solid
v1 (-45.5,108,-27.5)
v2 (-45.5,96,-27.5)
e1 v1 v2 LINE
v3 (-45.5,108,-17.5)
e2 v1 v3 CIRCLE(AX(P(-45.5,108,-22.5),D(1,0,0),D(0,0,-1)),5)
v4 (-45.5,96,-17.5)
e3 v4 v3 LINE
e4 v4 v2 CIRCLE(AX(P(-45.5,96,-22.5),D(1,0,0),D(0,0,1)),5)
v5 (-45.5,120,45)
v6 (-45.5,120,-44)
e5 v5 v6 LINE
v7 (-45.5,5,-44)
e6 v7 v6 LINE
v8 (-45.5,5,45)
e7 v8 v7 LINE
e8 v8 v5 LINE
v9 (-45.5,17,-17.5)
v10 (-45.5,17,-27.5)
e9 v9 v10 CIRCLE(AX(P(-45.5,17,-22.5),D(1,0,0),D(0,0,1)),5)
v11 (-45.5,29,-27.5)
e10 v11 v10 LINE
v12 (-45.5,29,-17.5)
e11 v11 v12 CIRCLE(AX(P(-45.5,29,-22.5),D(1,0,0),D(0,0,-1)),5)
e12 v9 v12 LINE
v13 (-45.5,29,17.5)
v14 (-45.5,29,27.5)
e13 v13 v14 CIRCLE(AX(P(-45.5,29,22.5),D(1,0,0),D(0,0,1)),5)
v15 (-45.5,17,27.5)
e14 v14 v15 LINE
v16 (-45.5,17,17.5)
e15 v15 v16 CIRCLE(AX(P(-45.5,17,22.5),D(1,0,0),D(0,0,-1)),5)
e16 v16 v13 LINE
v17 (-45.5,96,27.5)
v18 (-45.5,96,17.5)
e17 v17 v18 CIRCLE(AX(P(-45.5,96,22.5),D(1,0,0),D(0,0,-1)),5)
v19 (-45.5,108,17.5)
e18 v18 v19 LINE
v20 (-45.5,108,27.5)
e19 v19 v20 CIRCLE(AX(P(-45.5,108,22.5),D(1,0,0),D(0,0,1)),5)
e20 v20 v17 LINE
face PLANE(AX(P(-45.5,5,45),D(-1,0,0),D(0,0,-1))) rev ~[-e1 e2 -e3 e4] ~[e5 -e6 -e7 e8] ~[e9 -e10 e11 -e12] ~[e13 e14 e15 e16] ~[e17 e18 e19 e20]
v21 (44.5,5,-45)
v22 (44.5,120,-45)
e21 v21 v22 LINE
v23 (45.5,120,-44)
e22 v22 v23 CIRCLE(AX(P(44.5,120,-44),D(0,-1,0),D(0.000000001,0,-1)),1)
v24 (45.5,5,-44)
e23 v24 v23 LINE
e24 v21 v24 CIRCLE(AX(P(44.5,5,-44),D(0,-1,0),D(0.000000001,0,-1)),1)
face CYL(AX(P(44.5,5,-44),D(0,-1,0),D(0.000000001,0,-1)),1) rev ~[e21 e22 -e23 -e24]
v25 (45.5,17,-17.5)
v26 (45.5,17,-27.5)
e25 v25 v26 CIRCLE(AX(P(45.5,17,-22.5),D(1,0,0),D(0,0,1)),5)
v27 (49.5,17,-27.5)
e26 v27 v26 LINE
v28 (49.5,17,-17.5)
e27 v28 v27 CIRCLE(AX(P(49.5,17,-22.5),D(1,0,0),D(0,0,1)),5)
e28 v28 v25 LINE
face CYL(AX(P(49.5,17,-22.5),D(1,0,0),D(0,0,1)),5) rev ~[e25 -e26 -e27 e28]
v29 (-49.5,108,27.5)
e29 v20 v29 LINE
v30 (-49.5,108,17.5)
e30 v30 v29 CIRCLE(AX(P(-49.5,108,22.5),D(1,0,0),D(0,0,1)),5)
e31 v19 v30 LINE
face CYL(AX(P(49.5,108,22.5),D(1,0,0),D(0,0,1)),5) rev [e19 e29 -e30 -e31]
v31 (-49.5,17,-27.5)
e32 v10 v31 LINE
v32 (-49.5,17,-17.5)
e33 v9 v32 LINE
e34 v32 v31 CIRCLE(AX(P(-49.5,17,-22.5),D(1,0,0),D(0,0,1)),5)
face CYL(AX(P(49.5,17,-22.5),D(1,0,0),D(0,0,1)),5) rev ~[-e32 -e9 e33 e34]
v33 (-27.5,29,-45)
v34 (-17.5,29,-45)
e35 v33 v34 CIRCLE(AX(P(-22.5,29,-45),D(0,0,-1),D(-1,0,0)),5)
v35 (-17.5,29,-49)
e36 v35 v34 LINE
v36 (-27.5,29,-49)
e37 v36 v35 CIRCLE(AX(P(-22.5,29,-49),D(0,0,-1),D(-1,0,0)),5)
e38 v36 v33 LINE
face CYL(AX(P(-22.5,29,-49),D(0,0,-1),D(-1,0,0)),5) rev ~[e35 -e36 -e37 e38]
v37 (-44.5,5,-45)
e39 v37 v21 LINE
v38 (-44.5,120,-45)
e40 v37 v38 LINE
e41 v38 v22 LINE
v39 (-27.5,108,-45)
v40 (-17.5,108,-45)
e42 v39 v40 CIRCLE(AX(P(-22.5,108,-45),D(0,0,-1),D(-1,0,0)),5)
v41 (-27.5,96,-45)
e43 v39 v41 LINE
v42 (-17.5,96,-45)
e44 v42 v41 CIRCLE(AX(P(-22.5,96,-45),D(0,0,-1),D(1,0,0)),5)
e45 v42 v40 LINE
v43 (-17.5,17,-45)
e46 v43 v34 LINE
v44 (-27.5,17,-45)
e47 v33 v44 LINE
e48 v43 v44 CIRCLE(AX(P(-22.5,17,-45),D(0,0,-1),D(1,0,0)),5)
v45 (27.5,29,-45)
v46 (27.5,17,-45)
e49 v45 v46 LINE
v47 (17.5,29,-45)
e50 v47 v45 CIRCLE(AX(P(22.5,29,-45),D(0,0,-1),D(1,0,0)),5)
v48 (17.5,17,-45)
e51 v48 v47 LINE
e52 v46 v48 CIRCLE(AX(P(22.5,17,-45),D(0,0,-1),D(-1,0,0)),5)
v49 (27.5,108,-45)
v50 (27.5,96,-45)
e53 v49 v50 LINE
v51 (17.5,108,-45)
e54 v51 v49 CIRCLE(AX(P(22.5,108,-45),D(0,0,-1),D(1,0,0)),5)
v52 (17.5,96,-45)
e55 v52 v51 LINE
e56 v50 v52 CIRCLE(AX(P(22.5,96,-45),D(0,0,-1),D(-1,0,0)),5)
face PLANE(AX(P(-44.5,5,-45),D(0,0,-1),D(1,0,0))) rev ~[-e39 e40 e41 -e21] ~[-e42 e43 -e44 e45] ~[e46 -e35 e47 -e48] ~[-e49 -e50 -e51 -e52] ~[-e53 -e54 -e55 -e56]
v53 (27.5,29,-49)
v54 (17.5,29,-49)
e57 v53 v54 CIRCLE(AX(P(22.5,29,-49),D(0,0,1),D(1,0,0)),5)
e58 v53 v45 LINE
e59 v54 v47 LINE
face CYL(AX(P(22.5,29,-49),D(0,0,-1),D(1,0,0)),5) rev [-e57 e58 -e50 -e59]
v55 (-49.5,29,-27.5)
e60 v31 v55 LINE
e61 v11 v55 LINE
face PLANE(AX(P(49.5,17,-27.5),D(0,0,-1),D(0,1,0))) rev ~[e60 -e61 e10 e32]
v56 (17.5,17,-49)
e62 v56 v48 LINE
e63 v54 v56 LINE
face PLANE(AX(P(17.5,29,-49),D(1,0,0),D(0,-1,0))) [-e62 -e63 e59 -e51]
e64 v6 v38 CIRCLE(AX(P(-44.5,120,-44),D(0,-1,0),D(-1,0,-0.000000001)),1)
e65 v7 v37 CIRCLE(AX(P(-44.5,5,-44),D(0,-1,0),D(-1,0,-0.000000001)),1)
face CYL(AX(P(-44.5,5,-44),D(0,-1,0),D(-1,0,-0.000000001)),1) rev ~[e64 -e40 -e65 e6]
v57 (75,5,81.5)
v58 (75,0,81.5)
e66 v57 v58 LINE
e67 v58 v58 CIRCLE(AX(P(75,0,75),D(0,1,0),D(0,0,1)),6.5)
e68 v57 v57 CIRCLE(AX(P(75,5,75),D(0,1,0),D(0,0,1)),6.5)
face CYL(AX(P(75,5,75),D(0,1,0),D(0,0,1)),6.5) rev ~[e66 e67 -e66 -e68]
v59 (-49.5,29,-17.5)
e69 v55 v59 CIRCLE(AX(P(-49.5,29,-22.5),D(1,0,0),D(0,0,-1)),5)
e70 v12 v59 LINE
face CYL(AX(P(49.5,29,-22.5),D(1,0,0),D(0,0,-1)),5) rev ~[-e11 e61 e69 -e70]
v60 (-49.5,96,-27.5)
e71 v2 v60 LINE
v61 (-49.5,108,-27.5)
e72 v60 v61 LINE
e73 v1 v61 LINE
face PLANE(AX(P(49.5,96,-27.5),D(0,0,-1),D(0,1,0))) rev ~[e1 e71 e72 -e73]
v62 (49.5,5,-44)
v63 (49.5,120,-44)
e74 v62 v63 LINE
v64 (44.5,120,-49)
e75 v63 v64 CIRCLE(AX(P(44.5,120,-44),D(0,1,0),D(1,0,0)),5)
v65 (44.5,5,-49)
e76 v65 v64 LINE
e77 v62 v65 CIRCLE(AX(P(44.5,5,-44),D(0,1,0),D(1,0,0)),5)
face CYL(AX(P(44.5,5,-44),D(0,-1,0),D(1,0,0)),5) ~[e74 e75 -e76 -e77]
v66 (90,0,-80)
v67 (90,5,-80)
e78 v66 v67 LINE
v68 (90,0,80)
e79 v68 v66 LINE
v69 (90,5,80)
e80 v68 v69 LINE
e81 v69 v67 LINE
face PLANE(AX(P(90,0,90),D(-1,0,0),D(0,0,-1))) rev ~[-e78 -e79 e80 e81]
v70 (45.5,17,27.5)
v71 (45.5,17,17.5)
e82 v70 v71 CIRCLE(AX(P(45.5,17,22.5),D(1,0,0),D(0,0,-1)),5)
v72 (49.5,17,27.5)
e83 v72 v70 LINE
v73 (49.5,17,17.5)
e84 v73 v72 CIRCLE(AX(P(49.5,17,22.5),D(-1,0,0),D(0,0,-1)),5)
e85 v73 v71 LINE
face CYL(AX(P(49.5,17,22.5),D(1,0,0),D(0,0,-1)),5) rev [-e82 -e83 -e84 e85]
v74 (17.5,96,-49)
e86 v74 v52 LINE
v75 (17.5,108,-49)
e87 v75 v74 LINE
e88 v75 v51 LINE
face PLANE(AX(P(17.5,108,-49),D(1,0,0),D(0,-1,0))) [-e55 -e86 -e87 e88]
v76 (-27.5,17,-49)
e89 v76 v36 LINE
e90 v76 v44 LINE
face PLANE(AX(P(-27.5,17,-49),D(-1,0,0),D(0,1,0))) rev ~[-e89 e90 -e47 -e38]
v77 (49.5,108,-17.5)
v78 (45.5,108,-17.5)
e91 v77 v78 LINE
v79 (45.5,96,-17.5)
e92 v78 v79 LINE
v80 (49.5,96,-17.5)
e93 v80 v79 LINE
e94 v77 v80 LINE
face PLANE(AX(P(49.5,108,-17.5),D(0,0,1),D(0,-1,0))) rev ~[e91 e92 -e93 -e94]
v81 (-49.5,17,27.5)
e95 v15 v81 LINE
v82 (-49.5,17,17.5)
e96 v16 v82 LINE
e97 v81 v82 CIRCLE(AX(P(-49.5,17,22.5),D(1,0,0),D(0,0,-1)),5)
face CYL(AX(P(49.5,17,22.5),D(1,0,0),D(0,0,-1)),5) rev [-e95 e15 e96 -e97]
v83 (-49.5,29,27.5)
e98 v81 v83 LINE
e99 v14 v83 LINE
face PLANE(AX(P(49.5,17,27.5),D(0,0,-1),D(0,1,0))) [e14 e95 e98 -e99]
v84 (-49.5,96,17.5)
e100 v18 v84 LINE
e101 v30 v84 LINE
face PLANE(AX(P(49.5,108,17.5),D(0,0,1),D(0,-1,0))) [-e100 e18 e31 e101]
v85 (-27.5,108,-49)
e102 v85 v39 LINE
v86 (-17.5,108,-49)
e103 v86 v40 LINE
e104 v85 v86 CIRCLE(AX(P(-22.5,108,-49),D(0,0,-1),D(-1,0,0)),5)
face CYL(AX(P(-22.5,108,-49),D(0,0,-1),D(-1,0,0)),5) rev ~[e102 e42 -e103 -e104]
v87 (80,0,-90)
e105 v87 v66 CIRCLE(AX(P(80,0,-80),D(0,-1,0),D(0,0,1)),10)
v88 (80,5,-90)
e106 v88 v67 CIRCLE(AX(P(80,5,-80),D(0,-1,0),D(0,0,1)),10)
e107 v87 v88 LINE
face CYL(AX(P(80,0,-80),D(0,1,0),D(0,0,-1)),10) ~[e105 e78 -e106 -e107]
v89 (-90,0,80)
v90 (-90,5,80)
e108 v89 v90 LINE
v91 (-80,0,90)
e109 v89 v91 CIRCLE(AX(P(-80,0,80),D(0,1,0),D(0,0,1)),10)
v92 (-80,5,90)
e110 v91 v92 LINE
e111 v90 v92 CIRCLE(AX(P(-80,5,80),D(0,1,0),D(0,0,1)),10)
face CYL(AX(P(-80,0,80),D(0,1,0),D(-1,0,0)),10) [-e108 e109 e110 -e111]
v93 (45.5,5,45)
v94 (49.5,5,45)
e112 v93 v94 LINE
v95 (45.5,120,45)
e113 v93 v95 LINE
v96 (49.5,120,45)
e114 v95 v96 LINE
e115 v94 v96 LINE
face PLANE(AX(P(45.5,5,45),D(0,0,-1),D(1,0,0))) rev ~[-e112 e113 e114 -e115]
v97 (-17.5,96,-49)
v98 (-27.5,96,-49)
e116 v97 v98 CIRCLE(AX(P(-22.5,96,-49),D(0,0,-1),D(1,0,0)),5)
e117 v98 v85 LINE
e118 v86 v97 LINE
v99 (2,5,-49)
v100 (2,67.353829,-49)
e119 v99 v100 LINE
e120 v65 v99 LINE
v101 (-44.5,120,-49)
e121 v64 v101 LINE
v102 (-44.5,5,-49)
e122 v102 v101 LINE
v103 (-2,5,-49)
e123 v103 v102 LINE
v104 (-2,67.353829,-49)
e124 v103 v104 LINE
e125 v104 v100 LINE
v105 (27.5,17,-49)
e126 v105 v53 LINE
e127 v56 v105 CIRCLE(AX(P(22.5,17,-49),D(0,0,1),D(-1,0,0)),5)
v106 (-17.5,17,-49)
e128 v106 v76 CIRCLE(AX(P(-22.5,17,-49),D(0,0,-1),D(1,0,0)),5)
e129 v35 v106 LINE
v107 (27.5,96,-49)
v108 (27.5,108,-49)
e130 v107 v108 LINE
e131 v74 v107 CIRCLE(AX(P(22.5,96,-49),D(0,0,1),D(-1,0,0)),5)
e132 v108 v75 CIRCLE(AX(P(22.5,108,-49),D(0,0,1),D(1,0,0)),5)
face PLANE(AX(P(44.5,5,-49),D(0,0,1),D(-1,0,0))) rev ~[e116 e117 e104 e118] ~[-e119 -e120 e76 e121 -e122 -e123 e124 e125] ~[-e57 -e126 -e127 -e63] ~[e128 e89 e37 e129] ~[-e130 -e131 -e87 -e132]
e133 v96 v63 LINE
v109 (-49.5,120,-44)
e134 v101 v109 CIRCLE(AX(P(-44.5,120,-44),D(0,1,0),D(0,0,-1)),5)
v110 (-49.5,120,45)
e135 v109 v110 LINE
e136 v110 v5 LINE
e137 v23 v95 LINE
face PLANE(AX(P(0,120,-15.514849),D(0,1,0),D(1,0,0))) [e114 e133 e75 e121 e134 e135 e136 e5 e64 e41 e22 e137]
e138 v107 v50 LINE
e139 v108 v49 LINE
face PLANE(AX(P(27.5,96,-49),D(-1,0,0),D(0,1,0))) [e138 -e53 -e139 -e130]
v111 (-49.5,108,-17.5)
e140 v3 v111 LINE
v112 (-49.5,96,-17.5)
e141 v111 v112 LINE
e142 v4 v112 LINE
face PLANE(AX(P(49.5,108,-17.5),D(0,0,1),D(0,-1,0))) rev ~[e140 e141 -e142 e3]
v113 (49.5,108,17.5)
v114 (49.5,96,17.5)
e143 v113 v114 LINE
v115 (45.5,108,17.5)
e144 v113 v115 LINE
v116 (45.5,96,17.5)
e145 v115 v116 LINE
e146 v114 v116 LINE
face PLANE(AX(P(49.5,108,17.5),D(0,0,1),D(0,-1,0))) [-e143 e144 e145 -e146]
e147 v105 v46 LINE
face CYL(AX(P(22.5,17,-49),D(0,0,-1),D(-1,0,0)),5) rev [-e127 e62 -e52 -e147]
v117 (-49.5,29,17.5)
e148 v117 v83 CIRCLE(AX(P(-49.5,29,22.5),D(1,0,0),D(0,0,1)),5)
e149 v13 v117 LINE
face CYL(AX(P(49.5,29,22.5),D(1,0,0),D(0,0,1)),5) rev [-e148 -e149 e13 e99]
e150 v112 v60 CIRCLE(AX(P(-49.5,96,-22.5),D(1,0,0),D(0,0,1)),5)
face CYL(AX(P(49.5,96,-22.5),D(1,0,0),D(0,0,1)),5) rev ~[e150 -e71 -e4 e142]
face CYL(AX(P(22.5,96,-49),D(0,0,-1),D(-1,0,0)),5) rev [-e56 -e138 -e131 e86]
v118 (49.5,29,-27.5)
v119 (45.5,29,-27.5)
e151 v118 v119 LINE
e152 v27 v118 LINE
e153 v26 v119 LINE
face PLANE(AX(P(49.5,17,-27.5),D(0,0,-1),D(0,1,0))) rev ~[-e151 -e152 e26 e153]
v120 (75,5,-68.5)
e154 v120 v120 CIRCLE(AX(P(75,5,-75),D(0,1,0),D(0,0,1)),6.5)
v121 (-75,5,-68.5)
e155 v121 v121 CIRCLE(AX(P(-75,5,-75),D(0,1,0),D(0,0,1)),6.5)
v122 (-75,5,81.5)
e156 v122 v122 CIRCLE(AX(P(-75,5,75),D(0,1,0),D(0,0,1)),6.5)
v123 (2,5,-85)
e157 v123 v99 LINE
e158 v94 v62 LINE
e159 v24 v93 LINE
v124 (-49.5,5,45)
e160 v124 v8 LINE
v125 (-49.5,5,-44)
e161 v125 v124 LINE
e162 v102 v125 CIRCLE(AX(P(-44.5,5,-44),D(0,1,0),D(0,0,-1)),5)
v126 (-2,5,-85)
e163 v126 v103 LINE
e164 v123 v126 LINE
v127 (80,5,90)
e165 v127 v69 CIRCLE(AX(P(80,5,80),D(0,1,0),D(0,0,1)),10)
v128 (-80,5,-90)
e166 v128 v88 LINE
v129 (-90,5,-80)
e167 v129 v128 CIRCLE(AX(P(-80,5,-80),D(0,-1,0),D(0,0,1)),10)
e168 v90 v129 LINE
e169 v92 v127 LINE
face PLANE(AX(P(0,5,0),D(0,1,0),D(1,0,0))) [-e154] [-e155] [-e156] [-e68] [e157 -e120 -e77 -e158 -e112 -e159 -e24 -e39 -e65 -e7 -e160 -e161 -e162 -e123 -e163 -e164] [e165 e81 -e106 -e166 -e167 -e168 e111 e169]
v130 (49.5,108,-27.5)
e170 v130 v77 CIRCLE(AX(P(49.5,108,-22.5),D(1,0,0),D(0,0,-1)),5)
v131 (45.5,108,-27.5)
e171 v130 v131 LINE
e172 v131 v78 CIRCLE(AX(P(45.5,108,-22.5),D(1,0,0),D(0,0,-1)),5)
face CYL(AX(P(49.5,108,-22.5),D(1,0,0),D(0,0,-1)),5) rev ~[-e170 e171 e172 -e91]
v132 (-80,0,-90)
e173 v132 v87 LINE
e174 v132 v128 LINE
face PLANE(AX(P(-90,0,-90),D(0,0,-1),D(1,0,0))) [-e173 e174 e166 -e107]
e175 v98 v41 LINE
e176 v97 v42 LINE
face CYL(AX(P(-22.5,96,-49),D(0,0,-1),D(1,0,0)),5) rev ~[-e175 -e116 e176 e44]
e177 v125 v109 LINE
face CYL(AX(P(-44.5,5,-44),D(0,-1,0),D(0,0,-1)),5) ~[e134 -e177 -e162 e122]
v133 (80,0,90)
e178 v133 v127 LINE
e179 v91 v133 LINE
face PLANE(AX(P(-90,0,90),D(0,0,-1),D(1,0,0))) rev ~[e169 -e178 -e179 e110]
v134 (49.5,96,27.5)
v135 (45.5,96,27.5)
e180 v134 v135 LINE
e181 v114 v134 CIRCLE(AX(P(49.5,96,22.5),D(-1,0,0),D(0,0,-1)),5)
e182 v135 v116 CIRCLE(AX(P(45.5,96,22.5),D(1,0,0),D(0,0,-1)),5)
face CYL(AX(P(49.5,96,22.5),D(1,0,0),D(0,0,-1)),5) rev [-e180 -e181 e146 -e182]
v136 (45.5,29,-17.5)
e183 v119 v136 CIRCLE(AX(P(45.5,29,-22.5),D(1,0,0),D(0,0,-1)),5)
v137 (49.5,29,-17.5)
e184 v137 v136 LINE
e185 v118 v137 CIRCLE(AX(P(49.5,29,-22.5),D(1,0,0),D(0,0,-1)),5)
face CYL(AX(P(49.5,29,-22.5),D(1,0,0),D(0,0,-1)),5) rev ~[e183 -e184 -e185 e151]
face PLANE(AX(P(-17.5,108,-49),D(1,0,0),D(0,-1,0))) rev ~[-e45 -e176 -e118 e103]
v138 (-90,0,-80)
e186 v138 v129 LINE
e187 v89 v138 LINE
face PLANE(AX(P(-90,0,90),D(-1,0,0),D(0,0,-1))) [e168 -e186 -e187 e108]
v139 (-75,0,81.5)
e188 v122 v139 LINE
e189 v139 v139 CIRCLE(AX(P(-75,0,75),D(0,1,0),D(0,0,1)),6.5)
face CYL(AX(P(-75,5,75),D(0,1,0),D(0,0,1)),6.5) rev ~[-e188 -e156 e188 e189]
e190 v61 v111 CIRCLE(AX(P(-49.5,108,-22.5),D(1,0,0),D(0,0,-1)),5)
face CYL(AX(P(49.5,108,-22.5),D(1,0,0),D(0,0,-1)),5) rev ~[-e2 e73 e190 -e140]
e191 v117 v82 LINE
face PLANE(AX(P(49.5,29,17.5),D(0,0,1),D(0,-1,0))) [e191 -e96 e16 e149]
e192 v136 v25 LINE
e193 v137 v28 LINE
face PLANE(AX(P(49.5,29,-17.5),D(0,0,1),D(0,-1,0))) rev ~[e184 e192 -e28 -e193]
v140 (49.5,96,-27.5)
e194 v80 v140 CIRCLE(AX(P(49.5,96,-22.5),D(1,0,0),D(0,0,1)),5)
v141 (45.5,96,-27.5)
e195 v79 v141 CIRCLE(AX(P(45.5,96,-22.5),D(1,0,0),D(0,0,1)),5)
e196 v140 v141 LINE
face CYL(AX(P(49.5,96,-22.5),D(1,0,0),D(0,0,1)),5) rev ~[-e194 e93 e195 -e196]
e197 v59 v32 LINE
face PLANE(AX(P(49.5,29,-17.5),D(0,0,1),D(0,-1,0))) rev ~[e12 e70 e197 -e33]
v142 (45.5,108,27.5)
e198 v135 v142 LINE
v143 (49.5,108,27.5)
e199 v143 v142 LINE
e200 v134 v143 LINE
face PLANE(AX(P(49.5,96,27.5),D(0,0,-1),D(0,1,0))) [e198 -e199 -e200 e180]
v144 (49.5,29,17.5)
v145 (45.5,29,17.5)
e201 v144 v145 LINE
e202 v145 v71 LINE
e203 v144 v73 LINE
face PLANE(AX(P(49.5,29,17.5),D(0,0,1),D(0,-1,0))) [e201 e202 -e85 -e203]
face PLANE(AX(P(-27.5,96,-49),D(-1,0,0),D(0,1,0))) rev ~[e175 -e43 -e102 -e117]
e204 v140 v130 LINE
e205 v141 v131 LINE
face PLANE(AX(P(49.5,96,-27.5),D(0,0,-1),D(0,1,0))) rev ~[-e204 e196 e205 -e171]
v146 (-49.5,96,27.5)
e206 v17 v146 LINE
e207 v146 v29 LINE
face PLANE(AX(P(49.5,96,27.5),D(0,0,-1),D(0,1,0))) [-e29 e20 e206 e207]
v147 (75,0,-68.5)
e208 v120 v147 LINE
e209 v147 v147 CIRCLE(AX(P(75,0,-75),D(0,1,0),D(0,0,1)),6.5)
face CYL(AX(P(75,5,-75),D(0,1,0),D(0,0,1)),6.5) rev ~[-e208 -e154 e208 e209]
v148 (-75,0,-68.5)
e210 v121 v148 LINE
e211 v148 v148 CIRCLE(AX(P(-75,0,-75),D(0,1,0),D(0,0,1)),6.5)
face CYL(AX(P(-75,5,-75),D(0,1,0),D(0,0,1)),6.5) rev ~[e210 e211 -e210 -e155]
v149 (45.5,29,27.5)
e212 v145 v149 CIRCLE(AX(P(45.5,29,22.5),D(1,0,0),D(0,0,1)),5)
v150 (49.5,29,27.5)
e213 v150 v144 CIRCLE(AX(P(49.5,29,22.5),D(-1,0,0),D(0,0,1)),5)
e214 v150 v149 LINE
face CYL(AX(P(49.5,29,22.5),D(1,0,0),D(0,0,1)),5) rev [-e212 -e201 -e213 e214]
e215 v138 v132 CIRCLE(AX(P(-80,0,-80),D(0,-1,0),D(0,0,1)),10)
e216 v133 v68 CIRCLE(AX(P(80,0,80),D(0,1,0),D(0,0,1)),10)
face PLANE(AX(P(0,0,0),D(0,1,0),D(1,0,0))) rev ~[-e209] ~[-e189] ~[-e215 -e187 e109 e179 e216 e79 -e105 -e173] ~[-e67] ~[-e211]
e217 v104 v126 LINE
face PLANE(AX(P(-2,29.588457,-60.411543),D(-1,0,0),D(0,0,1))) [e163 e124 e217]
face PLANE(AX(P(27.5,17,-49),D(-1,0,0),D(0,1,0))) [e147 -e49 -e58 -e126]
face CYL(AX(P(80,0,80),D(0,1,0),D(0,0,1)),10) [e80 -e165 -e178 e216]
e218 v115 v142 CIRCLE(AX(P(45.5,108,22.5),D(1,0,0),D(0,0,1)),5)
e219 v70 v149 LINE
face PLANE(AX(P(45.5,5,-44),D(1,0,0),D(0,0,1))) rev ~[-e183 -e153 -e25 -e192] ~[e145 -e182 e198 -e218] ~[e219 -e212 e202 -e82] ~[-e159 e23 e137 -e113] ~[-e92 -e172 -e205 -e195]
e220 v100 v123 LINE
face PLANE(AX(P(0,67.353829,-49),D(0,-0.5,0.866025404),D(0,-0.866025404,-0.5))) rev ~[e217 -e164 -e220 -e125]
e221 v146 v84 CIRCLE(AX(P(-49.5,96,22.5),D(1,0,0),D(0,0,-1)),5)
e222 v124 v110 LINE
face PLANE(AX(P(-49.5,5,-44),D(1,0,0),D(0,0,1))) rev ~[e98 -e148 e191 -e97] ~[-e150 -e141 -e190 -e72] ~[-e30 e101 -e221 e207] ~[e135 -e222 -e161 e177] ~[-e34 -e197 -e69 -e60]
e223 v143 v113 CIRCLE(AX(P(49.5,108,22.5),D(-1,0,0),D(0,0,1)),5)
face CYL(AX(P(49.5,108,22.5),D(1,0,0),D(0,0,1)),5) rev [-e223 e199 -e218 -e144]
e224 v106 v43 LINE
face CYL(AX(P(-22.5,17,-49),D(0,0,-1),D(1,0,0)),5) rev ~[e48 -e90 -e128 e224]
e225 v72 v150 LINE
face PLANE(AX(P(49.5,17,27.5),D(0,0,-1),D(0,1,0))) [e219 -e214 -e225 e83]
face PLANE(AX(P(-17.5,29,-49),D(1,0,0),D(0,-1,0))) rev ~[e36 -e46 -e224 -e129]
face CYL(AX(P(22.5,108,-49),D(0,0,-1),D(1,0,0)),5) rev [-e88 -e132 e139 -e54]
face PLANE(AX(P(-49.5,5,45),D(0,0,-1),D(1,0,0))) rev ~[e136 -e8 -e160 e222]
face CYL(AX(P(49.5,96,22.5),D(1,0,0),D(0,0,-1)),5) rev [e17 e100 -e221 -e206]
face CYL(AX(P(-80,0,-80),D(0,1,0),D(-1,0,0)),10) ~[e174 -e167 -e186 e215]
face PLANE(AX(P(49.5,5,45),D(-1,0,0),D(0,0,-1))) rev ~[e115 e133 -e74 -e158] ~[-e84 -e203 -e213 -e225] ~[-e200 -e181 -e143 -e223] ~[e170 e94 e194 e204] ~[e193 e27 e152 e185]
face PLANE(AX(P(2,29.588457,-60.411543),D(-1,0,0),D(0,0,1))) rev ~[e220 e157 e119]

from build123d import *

# Parameters (mm, degrees)
SKETCH_2_W          = 180
SKETCH_2_H          = 180
EXTRUDE_1_DEPTH     = 5
EXTRUDE_1_2_DEPTH   = 115
EXTRUDE_2_DEPTH     = 2
CUT_EXTRUDE_1_DEPTH = 140.5
SKETCH_6_R          = 6.5
CUT_EXTRUDE_2_DEPTH = 6
FILLET_1_R          = 10
CUT_EXTRUDE_3_REACH = 141


with BuildPart() as part:
    # Эскиз2 → Extrude 1 (new body)
    with BuildSketch(Plane(origin=(0, 0, 0), x_dir=(1, 0, 0), z_dir=(0, 1, 0))):
        Rectangle(SKETCH_2_W, SKETCH_2_H)
    extrude(amount=EXTRUDE_1_DEPTH)

    # Эскиз3 → Extrude 1 2 (add)
    with BuildSketch(Plane(origin=(0, 5, 0), x_dir=(1, 0, 0), z_dir=(0, 1, 0))):
        with BuildLine():
            Line((-45.5, -45), (-45.5, 44))
            ThreePointArc((-45.5, 44), (-45.207106781, 44.707106781), (-44.5, 45))
            Line((-44.5, 45), (44.5, 45))
            ThreePointArc((44.5, 45), (45.207106781, 44.707106781), (45.5, 44))
            Line((45.5, 44), (45.5, -45))
            Line((45.5, -45), (49.5, -45))
            Line((49.5, -45), (49.5, 44))
            ThreePointArc((49.5, 44), (48.035533906, 47.535533906), (44.5, 49))
            Line((44.5, 49), (-44.5, 49))
            ThreePointArc((-44.5, 49), (-48.035533906, 47.535533906), (-49.5, 44))
            Line((-49.5, 44), (-49.5, -45))
            Line((-49.5, -45), (-45.5, -45))
        make_face()
    extrude(amount=EXTRUDE_1_2_DEPTH)

    # Эскиз4 → Бобышка-Вытянуть2 (add, symmetric)
    with BuildSketch(Plane(origin=(0, 0, 0), x_dir=(0, 0, -1), z_dir=(1, 0, 0))):
        Polygon((49, 67.353829072), (85, 5), (49, 5), align=None)
    extrude(amount=EXTRUDE_2_DEPTH, both=True)

    # Эскиз5 → Вырез-Вытянуть1 (cut, through all)
    with BuildSketch(Plane(origin=(49.5, 0, 0), x_dir=(0, 0, -1), z_dir=(1, 0, 0))):
        with BuildLine():
            Line((-17.5, 108), (-17.5, 96))
            ThreePointArc((-17.5, 96), (-22.5, 91), (-27.5, 96))
            Line((-27.5, 96), (-27.5, 108))
            ThreePointArc((-27.5, 108), (-22.5, 113), (-17.5, 108))
        make_face()
        with BuildLine():
            Line((-17.5, 29), (-17.5, 17))
            ThreePointArc((-17.5, 17), (-22.5, 12), (-27.5, 17))
            Line((-27.5, 17), (-27.5, 29))
            ThreePointArc((-27.5, 29), (-22.5, 34), (-17.5, 29))
        make_face()
        with BuildLine():
            Line((17.5, 108), (17.5, 96))
            ThreePointArc((17.5, 96), (22.5, 91), (27.5, 96))
            Line((27.5, 96), (27.5, 108))
            ThreePointArc((27.5, 108), (22.5, 113), (17.5, 108))
        make_face()
        with BuildLine():
            Line((17.5, 29), (17.5, 17))
            ThreePointArc((17.5, 17), (22.5, 12), (27.5, 17))
            Line((27.5, 17), (27.5, 29))
            ThreePointArc((27.5, 29), (22.5, 34), (17.5, 29))
        make_face()
    extrude(amount=-CUT_EXTRUDE_1_DEPTH, mode=Mode.SUBTRACT)

    # Эскиз6 → Вырез-Вытянуть2 (cut, through all)
    with BuildSketch(Plane(origin=(0, 5, 0), x_dir=(1, 0, 0), z_dir=(0, 1, 0))):
        with Locations(Location((-75, 75, 0), (0, 0, 270))):  # turned: the seam where the file's is
            Circle(SKETCH_6_R)
        with Locations(Location((-75, -75, 0), (0, 0, 270))):  # turned: the seam where the file's is
            Circle(SKETCH_6_R)
        with Locations(Location((75, 75, 0), (0, 0, 270))):  # turned: the seam where the file's is
            Circle(SKETCH_6_R)
        with Locations(Location((75, -75, 0), (0, 0, 270))):  # turned: the seam where the file's is
            Circle(SKETCH_6_R)
    extrude(amount=-CUT_EXTRUDE_2_DEPTH, mode=Mode.SUBTRACT)

    # Скругление1
    fillet_1_edges = [part.edges().sort_by_distance(p)[0] for p in [
        (90, 2.5, 90),
        (-90, 2.5, 90),
        (-90, 2.5, -90),
        (90, 2.5, -90),
    ]]
    fillet(fillet_1_edges, radius=FILLET_1_R)

    # Эскиз8 → Вырез-Вытянуть3 (cut, up to next)
    with BuildSketch(Plane(origin=(0, 0, -49), x_dir=(-1, 0, 0), z_dir=(0, 0, -1)), mode=Mode.PRIVATE) as cut_extrude_3_sk1:
        with BuildLine():
            Line((-17.5, 108), (-17.5, 96))
            ThreePointArc((-17.5, 96), (-22.5, 91), (-27.5, 96))
            Line((-27.5, 96), (-27.5, 108))
            ThreePointArc((-27.5, 108), (-22.5, 113), (-17.5, 108))
        make_face()
    cut_extrude_3_tool1 = extrude(cut_extrude_3_sk1.sketch, amount=-CUT_EXTRUDE_3_REACH, mode=Mode.PRIVATE) & part.part
    add(cut_extrude_3_tool1.solids().sort_by_distance((22.5, 102, -49))[0], mode=Mode.SUBTRACT)
    # Эскиз8 → Вырез-Вытянуть3 (cut, up to next)
    with BuildSketch(Plane(origin=(0, 0, -49), x_dir=(-1, 0, 0), z_dir=(0, 0, -1)), mode=Mode.PRIVATE) as cut_extrude_3_sk2:
        with BuildLine():
            Line((-17.5, 29), (-17.5, 17))
            ThreePointArc((-17.5, 17), (-22.5, 12), (-27.5, 17))
            Line((-27.5, 17), (-27.5, 29))
            ThreePointArc((-27.5, 29), (-22.5, 34), (-17.5, 29))
        make_face()
    cut_extrude_3_tool2 = extrude(cut_extrude_3_sk2.sketch, amount=-CUT_EXTRUDE_3_REACH, mode=Mode.PRIVATE) & part.part
    add(cut_extrude_3_tool2.solids().sort_by_distance((22.5, 23, -49))[0], mode=Mode.SUBTRACT)
    # Эскиз8 → Вырез-Вытянуть3 (cut, up to next)
    with BuildSketch(Plane(origin=(0, 0, -49), x_dir=(-1, 0, 0), z_dir=(0, 0, -1)), mode=Mode.PRIVATE) as cut_extrude_3_sk3:
        with BuildLine():
            Line((17.5, 108), (17.5, 96))
            ThreePointArc((17.5, 96), (22.5, 91), (27.5, 96))
            Line((27.5, 96), (27.5, 108))
            ThreePointArc((27.5, 108), (22.5, 113), (17.5, 108))
        make_face()
    cut_extrude_3_tool3 = extrude(cut_extrude_3_sk3.sketch, amount=-CUT_EXTRUDE_3_REACH, mode=Mode.PRIVATE) & part.part
    add(cut_extrude_3_tool3.solids().sort_by_distance((-22.5, 102, -49))[0], mode=Mode.SUBTRACT)
    # Эскиз8 → Вырез-Вытянуть3 (cut, up to next)
    with BuildSketch(Plane(origin=(0, 0, -49), x_dir=(-1, 0, 0), z_dir=(0, 0, -1)), mode=Mode.PRIVATE) as cut_extrude_3_sk4:
        with BuildLine():
            Line((17.5, 29), (17.5, 17))
            ThreePointArc((17.5, 17), (22.5, 12), (27.5, 17))
            Line((27.5, 17), (27.5, 29))
            ThreePointArc((27.5, 29), (22.5, 34), (17.5, 29))
        make_face()
    cut_extrude_3_tool4 = extrude(cut_extrude_3_sk4.sketch, amount=-CUT_EXTRUDE_3_REACH, mode=Mode.PRIVATE) & part.part
    add(cut_extrude_3_tool4.solids().sort_by_distance((-22.5, 23, -49))[0], mode=Mode.SUBTRACT)


solid = part.part
